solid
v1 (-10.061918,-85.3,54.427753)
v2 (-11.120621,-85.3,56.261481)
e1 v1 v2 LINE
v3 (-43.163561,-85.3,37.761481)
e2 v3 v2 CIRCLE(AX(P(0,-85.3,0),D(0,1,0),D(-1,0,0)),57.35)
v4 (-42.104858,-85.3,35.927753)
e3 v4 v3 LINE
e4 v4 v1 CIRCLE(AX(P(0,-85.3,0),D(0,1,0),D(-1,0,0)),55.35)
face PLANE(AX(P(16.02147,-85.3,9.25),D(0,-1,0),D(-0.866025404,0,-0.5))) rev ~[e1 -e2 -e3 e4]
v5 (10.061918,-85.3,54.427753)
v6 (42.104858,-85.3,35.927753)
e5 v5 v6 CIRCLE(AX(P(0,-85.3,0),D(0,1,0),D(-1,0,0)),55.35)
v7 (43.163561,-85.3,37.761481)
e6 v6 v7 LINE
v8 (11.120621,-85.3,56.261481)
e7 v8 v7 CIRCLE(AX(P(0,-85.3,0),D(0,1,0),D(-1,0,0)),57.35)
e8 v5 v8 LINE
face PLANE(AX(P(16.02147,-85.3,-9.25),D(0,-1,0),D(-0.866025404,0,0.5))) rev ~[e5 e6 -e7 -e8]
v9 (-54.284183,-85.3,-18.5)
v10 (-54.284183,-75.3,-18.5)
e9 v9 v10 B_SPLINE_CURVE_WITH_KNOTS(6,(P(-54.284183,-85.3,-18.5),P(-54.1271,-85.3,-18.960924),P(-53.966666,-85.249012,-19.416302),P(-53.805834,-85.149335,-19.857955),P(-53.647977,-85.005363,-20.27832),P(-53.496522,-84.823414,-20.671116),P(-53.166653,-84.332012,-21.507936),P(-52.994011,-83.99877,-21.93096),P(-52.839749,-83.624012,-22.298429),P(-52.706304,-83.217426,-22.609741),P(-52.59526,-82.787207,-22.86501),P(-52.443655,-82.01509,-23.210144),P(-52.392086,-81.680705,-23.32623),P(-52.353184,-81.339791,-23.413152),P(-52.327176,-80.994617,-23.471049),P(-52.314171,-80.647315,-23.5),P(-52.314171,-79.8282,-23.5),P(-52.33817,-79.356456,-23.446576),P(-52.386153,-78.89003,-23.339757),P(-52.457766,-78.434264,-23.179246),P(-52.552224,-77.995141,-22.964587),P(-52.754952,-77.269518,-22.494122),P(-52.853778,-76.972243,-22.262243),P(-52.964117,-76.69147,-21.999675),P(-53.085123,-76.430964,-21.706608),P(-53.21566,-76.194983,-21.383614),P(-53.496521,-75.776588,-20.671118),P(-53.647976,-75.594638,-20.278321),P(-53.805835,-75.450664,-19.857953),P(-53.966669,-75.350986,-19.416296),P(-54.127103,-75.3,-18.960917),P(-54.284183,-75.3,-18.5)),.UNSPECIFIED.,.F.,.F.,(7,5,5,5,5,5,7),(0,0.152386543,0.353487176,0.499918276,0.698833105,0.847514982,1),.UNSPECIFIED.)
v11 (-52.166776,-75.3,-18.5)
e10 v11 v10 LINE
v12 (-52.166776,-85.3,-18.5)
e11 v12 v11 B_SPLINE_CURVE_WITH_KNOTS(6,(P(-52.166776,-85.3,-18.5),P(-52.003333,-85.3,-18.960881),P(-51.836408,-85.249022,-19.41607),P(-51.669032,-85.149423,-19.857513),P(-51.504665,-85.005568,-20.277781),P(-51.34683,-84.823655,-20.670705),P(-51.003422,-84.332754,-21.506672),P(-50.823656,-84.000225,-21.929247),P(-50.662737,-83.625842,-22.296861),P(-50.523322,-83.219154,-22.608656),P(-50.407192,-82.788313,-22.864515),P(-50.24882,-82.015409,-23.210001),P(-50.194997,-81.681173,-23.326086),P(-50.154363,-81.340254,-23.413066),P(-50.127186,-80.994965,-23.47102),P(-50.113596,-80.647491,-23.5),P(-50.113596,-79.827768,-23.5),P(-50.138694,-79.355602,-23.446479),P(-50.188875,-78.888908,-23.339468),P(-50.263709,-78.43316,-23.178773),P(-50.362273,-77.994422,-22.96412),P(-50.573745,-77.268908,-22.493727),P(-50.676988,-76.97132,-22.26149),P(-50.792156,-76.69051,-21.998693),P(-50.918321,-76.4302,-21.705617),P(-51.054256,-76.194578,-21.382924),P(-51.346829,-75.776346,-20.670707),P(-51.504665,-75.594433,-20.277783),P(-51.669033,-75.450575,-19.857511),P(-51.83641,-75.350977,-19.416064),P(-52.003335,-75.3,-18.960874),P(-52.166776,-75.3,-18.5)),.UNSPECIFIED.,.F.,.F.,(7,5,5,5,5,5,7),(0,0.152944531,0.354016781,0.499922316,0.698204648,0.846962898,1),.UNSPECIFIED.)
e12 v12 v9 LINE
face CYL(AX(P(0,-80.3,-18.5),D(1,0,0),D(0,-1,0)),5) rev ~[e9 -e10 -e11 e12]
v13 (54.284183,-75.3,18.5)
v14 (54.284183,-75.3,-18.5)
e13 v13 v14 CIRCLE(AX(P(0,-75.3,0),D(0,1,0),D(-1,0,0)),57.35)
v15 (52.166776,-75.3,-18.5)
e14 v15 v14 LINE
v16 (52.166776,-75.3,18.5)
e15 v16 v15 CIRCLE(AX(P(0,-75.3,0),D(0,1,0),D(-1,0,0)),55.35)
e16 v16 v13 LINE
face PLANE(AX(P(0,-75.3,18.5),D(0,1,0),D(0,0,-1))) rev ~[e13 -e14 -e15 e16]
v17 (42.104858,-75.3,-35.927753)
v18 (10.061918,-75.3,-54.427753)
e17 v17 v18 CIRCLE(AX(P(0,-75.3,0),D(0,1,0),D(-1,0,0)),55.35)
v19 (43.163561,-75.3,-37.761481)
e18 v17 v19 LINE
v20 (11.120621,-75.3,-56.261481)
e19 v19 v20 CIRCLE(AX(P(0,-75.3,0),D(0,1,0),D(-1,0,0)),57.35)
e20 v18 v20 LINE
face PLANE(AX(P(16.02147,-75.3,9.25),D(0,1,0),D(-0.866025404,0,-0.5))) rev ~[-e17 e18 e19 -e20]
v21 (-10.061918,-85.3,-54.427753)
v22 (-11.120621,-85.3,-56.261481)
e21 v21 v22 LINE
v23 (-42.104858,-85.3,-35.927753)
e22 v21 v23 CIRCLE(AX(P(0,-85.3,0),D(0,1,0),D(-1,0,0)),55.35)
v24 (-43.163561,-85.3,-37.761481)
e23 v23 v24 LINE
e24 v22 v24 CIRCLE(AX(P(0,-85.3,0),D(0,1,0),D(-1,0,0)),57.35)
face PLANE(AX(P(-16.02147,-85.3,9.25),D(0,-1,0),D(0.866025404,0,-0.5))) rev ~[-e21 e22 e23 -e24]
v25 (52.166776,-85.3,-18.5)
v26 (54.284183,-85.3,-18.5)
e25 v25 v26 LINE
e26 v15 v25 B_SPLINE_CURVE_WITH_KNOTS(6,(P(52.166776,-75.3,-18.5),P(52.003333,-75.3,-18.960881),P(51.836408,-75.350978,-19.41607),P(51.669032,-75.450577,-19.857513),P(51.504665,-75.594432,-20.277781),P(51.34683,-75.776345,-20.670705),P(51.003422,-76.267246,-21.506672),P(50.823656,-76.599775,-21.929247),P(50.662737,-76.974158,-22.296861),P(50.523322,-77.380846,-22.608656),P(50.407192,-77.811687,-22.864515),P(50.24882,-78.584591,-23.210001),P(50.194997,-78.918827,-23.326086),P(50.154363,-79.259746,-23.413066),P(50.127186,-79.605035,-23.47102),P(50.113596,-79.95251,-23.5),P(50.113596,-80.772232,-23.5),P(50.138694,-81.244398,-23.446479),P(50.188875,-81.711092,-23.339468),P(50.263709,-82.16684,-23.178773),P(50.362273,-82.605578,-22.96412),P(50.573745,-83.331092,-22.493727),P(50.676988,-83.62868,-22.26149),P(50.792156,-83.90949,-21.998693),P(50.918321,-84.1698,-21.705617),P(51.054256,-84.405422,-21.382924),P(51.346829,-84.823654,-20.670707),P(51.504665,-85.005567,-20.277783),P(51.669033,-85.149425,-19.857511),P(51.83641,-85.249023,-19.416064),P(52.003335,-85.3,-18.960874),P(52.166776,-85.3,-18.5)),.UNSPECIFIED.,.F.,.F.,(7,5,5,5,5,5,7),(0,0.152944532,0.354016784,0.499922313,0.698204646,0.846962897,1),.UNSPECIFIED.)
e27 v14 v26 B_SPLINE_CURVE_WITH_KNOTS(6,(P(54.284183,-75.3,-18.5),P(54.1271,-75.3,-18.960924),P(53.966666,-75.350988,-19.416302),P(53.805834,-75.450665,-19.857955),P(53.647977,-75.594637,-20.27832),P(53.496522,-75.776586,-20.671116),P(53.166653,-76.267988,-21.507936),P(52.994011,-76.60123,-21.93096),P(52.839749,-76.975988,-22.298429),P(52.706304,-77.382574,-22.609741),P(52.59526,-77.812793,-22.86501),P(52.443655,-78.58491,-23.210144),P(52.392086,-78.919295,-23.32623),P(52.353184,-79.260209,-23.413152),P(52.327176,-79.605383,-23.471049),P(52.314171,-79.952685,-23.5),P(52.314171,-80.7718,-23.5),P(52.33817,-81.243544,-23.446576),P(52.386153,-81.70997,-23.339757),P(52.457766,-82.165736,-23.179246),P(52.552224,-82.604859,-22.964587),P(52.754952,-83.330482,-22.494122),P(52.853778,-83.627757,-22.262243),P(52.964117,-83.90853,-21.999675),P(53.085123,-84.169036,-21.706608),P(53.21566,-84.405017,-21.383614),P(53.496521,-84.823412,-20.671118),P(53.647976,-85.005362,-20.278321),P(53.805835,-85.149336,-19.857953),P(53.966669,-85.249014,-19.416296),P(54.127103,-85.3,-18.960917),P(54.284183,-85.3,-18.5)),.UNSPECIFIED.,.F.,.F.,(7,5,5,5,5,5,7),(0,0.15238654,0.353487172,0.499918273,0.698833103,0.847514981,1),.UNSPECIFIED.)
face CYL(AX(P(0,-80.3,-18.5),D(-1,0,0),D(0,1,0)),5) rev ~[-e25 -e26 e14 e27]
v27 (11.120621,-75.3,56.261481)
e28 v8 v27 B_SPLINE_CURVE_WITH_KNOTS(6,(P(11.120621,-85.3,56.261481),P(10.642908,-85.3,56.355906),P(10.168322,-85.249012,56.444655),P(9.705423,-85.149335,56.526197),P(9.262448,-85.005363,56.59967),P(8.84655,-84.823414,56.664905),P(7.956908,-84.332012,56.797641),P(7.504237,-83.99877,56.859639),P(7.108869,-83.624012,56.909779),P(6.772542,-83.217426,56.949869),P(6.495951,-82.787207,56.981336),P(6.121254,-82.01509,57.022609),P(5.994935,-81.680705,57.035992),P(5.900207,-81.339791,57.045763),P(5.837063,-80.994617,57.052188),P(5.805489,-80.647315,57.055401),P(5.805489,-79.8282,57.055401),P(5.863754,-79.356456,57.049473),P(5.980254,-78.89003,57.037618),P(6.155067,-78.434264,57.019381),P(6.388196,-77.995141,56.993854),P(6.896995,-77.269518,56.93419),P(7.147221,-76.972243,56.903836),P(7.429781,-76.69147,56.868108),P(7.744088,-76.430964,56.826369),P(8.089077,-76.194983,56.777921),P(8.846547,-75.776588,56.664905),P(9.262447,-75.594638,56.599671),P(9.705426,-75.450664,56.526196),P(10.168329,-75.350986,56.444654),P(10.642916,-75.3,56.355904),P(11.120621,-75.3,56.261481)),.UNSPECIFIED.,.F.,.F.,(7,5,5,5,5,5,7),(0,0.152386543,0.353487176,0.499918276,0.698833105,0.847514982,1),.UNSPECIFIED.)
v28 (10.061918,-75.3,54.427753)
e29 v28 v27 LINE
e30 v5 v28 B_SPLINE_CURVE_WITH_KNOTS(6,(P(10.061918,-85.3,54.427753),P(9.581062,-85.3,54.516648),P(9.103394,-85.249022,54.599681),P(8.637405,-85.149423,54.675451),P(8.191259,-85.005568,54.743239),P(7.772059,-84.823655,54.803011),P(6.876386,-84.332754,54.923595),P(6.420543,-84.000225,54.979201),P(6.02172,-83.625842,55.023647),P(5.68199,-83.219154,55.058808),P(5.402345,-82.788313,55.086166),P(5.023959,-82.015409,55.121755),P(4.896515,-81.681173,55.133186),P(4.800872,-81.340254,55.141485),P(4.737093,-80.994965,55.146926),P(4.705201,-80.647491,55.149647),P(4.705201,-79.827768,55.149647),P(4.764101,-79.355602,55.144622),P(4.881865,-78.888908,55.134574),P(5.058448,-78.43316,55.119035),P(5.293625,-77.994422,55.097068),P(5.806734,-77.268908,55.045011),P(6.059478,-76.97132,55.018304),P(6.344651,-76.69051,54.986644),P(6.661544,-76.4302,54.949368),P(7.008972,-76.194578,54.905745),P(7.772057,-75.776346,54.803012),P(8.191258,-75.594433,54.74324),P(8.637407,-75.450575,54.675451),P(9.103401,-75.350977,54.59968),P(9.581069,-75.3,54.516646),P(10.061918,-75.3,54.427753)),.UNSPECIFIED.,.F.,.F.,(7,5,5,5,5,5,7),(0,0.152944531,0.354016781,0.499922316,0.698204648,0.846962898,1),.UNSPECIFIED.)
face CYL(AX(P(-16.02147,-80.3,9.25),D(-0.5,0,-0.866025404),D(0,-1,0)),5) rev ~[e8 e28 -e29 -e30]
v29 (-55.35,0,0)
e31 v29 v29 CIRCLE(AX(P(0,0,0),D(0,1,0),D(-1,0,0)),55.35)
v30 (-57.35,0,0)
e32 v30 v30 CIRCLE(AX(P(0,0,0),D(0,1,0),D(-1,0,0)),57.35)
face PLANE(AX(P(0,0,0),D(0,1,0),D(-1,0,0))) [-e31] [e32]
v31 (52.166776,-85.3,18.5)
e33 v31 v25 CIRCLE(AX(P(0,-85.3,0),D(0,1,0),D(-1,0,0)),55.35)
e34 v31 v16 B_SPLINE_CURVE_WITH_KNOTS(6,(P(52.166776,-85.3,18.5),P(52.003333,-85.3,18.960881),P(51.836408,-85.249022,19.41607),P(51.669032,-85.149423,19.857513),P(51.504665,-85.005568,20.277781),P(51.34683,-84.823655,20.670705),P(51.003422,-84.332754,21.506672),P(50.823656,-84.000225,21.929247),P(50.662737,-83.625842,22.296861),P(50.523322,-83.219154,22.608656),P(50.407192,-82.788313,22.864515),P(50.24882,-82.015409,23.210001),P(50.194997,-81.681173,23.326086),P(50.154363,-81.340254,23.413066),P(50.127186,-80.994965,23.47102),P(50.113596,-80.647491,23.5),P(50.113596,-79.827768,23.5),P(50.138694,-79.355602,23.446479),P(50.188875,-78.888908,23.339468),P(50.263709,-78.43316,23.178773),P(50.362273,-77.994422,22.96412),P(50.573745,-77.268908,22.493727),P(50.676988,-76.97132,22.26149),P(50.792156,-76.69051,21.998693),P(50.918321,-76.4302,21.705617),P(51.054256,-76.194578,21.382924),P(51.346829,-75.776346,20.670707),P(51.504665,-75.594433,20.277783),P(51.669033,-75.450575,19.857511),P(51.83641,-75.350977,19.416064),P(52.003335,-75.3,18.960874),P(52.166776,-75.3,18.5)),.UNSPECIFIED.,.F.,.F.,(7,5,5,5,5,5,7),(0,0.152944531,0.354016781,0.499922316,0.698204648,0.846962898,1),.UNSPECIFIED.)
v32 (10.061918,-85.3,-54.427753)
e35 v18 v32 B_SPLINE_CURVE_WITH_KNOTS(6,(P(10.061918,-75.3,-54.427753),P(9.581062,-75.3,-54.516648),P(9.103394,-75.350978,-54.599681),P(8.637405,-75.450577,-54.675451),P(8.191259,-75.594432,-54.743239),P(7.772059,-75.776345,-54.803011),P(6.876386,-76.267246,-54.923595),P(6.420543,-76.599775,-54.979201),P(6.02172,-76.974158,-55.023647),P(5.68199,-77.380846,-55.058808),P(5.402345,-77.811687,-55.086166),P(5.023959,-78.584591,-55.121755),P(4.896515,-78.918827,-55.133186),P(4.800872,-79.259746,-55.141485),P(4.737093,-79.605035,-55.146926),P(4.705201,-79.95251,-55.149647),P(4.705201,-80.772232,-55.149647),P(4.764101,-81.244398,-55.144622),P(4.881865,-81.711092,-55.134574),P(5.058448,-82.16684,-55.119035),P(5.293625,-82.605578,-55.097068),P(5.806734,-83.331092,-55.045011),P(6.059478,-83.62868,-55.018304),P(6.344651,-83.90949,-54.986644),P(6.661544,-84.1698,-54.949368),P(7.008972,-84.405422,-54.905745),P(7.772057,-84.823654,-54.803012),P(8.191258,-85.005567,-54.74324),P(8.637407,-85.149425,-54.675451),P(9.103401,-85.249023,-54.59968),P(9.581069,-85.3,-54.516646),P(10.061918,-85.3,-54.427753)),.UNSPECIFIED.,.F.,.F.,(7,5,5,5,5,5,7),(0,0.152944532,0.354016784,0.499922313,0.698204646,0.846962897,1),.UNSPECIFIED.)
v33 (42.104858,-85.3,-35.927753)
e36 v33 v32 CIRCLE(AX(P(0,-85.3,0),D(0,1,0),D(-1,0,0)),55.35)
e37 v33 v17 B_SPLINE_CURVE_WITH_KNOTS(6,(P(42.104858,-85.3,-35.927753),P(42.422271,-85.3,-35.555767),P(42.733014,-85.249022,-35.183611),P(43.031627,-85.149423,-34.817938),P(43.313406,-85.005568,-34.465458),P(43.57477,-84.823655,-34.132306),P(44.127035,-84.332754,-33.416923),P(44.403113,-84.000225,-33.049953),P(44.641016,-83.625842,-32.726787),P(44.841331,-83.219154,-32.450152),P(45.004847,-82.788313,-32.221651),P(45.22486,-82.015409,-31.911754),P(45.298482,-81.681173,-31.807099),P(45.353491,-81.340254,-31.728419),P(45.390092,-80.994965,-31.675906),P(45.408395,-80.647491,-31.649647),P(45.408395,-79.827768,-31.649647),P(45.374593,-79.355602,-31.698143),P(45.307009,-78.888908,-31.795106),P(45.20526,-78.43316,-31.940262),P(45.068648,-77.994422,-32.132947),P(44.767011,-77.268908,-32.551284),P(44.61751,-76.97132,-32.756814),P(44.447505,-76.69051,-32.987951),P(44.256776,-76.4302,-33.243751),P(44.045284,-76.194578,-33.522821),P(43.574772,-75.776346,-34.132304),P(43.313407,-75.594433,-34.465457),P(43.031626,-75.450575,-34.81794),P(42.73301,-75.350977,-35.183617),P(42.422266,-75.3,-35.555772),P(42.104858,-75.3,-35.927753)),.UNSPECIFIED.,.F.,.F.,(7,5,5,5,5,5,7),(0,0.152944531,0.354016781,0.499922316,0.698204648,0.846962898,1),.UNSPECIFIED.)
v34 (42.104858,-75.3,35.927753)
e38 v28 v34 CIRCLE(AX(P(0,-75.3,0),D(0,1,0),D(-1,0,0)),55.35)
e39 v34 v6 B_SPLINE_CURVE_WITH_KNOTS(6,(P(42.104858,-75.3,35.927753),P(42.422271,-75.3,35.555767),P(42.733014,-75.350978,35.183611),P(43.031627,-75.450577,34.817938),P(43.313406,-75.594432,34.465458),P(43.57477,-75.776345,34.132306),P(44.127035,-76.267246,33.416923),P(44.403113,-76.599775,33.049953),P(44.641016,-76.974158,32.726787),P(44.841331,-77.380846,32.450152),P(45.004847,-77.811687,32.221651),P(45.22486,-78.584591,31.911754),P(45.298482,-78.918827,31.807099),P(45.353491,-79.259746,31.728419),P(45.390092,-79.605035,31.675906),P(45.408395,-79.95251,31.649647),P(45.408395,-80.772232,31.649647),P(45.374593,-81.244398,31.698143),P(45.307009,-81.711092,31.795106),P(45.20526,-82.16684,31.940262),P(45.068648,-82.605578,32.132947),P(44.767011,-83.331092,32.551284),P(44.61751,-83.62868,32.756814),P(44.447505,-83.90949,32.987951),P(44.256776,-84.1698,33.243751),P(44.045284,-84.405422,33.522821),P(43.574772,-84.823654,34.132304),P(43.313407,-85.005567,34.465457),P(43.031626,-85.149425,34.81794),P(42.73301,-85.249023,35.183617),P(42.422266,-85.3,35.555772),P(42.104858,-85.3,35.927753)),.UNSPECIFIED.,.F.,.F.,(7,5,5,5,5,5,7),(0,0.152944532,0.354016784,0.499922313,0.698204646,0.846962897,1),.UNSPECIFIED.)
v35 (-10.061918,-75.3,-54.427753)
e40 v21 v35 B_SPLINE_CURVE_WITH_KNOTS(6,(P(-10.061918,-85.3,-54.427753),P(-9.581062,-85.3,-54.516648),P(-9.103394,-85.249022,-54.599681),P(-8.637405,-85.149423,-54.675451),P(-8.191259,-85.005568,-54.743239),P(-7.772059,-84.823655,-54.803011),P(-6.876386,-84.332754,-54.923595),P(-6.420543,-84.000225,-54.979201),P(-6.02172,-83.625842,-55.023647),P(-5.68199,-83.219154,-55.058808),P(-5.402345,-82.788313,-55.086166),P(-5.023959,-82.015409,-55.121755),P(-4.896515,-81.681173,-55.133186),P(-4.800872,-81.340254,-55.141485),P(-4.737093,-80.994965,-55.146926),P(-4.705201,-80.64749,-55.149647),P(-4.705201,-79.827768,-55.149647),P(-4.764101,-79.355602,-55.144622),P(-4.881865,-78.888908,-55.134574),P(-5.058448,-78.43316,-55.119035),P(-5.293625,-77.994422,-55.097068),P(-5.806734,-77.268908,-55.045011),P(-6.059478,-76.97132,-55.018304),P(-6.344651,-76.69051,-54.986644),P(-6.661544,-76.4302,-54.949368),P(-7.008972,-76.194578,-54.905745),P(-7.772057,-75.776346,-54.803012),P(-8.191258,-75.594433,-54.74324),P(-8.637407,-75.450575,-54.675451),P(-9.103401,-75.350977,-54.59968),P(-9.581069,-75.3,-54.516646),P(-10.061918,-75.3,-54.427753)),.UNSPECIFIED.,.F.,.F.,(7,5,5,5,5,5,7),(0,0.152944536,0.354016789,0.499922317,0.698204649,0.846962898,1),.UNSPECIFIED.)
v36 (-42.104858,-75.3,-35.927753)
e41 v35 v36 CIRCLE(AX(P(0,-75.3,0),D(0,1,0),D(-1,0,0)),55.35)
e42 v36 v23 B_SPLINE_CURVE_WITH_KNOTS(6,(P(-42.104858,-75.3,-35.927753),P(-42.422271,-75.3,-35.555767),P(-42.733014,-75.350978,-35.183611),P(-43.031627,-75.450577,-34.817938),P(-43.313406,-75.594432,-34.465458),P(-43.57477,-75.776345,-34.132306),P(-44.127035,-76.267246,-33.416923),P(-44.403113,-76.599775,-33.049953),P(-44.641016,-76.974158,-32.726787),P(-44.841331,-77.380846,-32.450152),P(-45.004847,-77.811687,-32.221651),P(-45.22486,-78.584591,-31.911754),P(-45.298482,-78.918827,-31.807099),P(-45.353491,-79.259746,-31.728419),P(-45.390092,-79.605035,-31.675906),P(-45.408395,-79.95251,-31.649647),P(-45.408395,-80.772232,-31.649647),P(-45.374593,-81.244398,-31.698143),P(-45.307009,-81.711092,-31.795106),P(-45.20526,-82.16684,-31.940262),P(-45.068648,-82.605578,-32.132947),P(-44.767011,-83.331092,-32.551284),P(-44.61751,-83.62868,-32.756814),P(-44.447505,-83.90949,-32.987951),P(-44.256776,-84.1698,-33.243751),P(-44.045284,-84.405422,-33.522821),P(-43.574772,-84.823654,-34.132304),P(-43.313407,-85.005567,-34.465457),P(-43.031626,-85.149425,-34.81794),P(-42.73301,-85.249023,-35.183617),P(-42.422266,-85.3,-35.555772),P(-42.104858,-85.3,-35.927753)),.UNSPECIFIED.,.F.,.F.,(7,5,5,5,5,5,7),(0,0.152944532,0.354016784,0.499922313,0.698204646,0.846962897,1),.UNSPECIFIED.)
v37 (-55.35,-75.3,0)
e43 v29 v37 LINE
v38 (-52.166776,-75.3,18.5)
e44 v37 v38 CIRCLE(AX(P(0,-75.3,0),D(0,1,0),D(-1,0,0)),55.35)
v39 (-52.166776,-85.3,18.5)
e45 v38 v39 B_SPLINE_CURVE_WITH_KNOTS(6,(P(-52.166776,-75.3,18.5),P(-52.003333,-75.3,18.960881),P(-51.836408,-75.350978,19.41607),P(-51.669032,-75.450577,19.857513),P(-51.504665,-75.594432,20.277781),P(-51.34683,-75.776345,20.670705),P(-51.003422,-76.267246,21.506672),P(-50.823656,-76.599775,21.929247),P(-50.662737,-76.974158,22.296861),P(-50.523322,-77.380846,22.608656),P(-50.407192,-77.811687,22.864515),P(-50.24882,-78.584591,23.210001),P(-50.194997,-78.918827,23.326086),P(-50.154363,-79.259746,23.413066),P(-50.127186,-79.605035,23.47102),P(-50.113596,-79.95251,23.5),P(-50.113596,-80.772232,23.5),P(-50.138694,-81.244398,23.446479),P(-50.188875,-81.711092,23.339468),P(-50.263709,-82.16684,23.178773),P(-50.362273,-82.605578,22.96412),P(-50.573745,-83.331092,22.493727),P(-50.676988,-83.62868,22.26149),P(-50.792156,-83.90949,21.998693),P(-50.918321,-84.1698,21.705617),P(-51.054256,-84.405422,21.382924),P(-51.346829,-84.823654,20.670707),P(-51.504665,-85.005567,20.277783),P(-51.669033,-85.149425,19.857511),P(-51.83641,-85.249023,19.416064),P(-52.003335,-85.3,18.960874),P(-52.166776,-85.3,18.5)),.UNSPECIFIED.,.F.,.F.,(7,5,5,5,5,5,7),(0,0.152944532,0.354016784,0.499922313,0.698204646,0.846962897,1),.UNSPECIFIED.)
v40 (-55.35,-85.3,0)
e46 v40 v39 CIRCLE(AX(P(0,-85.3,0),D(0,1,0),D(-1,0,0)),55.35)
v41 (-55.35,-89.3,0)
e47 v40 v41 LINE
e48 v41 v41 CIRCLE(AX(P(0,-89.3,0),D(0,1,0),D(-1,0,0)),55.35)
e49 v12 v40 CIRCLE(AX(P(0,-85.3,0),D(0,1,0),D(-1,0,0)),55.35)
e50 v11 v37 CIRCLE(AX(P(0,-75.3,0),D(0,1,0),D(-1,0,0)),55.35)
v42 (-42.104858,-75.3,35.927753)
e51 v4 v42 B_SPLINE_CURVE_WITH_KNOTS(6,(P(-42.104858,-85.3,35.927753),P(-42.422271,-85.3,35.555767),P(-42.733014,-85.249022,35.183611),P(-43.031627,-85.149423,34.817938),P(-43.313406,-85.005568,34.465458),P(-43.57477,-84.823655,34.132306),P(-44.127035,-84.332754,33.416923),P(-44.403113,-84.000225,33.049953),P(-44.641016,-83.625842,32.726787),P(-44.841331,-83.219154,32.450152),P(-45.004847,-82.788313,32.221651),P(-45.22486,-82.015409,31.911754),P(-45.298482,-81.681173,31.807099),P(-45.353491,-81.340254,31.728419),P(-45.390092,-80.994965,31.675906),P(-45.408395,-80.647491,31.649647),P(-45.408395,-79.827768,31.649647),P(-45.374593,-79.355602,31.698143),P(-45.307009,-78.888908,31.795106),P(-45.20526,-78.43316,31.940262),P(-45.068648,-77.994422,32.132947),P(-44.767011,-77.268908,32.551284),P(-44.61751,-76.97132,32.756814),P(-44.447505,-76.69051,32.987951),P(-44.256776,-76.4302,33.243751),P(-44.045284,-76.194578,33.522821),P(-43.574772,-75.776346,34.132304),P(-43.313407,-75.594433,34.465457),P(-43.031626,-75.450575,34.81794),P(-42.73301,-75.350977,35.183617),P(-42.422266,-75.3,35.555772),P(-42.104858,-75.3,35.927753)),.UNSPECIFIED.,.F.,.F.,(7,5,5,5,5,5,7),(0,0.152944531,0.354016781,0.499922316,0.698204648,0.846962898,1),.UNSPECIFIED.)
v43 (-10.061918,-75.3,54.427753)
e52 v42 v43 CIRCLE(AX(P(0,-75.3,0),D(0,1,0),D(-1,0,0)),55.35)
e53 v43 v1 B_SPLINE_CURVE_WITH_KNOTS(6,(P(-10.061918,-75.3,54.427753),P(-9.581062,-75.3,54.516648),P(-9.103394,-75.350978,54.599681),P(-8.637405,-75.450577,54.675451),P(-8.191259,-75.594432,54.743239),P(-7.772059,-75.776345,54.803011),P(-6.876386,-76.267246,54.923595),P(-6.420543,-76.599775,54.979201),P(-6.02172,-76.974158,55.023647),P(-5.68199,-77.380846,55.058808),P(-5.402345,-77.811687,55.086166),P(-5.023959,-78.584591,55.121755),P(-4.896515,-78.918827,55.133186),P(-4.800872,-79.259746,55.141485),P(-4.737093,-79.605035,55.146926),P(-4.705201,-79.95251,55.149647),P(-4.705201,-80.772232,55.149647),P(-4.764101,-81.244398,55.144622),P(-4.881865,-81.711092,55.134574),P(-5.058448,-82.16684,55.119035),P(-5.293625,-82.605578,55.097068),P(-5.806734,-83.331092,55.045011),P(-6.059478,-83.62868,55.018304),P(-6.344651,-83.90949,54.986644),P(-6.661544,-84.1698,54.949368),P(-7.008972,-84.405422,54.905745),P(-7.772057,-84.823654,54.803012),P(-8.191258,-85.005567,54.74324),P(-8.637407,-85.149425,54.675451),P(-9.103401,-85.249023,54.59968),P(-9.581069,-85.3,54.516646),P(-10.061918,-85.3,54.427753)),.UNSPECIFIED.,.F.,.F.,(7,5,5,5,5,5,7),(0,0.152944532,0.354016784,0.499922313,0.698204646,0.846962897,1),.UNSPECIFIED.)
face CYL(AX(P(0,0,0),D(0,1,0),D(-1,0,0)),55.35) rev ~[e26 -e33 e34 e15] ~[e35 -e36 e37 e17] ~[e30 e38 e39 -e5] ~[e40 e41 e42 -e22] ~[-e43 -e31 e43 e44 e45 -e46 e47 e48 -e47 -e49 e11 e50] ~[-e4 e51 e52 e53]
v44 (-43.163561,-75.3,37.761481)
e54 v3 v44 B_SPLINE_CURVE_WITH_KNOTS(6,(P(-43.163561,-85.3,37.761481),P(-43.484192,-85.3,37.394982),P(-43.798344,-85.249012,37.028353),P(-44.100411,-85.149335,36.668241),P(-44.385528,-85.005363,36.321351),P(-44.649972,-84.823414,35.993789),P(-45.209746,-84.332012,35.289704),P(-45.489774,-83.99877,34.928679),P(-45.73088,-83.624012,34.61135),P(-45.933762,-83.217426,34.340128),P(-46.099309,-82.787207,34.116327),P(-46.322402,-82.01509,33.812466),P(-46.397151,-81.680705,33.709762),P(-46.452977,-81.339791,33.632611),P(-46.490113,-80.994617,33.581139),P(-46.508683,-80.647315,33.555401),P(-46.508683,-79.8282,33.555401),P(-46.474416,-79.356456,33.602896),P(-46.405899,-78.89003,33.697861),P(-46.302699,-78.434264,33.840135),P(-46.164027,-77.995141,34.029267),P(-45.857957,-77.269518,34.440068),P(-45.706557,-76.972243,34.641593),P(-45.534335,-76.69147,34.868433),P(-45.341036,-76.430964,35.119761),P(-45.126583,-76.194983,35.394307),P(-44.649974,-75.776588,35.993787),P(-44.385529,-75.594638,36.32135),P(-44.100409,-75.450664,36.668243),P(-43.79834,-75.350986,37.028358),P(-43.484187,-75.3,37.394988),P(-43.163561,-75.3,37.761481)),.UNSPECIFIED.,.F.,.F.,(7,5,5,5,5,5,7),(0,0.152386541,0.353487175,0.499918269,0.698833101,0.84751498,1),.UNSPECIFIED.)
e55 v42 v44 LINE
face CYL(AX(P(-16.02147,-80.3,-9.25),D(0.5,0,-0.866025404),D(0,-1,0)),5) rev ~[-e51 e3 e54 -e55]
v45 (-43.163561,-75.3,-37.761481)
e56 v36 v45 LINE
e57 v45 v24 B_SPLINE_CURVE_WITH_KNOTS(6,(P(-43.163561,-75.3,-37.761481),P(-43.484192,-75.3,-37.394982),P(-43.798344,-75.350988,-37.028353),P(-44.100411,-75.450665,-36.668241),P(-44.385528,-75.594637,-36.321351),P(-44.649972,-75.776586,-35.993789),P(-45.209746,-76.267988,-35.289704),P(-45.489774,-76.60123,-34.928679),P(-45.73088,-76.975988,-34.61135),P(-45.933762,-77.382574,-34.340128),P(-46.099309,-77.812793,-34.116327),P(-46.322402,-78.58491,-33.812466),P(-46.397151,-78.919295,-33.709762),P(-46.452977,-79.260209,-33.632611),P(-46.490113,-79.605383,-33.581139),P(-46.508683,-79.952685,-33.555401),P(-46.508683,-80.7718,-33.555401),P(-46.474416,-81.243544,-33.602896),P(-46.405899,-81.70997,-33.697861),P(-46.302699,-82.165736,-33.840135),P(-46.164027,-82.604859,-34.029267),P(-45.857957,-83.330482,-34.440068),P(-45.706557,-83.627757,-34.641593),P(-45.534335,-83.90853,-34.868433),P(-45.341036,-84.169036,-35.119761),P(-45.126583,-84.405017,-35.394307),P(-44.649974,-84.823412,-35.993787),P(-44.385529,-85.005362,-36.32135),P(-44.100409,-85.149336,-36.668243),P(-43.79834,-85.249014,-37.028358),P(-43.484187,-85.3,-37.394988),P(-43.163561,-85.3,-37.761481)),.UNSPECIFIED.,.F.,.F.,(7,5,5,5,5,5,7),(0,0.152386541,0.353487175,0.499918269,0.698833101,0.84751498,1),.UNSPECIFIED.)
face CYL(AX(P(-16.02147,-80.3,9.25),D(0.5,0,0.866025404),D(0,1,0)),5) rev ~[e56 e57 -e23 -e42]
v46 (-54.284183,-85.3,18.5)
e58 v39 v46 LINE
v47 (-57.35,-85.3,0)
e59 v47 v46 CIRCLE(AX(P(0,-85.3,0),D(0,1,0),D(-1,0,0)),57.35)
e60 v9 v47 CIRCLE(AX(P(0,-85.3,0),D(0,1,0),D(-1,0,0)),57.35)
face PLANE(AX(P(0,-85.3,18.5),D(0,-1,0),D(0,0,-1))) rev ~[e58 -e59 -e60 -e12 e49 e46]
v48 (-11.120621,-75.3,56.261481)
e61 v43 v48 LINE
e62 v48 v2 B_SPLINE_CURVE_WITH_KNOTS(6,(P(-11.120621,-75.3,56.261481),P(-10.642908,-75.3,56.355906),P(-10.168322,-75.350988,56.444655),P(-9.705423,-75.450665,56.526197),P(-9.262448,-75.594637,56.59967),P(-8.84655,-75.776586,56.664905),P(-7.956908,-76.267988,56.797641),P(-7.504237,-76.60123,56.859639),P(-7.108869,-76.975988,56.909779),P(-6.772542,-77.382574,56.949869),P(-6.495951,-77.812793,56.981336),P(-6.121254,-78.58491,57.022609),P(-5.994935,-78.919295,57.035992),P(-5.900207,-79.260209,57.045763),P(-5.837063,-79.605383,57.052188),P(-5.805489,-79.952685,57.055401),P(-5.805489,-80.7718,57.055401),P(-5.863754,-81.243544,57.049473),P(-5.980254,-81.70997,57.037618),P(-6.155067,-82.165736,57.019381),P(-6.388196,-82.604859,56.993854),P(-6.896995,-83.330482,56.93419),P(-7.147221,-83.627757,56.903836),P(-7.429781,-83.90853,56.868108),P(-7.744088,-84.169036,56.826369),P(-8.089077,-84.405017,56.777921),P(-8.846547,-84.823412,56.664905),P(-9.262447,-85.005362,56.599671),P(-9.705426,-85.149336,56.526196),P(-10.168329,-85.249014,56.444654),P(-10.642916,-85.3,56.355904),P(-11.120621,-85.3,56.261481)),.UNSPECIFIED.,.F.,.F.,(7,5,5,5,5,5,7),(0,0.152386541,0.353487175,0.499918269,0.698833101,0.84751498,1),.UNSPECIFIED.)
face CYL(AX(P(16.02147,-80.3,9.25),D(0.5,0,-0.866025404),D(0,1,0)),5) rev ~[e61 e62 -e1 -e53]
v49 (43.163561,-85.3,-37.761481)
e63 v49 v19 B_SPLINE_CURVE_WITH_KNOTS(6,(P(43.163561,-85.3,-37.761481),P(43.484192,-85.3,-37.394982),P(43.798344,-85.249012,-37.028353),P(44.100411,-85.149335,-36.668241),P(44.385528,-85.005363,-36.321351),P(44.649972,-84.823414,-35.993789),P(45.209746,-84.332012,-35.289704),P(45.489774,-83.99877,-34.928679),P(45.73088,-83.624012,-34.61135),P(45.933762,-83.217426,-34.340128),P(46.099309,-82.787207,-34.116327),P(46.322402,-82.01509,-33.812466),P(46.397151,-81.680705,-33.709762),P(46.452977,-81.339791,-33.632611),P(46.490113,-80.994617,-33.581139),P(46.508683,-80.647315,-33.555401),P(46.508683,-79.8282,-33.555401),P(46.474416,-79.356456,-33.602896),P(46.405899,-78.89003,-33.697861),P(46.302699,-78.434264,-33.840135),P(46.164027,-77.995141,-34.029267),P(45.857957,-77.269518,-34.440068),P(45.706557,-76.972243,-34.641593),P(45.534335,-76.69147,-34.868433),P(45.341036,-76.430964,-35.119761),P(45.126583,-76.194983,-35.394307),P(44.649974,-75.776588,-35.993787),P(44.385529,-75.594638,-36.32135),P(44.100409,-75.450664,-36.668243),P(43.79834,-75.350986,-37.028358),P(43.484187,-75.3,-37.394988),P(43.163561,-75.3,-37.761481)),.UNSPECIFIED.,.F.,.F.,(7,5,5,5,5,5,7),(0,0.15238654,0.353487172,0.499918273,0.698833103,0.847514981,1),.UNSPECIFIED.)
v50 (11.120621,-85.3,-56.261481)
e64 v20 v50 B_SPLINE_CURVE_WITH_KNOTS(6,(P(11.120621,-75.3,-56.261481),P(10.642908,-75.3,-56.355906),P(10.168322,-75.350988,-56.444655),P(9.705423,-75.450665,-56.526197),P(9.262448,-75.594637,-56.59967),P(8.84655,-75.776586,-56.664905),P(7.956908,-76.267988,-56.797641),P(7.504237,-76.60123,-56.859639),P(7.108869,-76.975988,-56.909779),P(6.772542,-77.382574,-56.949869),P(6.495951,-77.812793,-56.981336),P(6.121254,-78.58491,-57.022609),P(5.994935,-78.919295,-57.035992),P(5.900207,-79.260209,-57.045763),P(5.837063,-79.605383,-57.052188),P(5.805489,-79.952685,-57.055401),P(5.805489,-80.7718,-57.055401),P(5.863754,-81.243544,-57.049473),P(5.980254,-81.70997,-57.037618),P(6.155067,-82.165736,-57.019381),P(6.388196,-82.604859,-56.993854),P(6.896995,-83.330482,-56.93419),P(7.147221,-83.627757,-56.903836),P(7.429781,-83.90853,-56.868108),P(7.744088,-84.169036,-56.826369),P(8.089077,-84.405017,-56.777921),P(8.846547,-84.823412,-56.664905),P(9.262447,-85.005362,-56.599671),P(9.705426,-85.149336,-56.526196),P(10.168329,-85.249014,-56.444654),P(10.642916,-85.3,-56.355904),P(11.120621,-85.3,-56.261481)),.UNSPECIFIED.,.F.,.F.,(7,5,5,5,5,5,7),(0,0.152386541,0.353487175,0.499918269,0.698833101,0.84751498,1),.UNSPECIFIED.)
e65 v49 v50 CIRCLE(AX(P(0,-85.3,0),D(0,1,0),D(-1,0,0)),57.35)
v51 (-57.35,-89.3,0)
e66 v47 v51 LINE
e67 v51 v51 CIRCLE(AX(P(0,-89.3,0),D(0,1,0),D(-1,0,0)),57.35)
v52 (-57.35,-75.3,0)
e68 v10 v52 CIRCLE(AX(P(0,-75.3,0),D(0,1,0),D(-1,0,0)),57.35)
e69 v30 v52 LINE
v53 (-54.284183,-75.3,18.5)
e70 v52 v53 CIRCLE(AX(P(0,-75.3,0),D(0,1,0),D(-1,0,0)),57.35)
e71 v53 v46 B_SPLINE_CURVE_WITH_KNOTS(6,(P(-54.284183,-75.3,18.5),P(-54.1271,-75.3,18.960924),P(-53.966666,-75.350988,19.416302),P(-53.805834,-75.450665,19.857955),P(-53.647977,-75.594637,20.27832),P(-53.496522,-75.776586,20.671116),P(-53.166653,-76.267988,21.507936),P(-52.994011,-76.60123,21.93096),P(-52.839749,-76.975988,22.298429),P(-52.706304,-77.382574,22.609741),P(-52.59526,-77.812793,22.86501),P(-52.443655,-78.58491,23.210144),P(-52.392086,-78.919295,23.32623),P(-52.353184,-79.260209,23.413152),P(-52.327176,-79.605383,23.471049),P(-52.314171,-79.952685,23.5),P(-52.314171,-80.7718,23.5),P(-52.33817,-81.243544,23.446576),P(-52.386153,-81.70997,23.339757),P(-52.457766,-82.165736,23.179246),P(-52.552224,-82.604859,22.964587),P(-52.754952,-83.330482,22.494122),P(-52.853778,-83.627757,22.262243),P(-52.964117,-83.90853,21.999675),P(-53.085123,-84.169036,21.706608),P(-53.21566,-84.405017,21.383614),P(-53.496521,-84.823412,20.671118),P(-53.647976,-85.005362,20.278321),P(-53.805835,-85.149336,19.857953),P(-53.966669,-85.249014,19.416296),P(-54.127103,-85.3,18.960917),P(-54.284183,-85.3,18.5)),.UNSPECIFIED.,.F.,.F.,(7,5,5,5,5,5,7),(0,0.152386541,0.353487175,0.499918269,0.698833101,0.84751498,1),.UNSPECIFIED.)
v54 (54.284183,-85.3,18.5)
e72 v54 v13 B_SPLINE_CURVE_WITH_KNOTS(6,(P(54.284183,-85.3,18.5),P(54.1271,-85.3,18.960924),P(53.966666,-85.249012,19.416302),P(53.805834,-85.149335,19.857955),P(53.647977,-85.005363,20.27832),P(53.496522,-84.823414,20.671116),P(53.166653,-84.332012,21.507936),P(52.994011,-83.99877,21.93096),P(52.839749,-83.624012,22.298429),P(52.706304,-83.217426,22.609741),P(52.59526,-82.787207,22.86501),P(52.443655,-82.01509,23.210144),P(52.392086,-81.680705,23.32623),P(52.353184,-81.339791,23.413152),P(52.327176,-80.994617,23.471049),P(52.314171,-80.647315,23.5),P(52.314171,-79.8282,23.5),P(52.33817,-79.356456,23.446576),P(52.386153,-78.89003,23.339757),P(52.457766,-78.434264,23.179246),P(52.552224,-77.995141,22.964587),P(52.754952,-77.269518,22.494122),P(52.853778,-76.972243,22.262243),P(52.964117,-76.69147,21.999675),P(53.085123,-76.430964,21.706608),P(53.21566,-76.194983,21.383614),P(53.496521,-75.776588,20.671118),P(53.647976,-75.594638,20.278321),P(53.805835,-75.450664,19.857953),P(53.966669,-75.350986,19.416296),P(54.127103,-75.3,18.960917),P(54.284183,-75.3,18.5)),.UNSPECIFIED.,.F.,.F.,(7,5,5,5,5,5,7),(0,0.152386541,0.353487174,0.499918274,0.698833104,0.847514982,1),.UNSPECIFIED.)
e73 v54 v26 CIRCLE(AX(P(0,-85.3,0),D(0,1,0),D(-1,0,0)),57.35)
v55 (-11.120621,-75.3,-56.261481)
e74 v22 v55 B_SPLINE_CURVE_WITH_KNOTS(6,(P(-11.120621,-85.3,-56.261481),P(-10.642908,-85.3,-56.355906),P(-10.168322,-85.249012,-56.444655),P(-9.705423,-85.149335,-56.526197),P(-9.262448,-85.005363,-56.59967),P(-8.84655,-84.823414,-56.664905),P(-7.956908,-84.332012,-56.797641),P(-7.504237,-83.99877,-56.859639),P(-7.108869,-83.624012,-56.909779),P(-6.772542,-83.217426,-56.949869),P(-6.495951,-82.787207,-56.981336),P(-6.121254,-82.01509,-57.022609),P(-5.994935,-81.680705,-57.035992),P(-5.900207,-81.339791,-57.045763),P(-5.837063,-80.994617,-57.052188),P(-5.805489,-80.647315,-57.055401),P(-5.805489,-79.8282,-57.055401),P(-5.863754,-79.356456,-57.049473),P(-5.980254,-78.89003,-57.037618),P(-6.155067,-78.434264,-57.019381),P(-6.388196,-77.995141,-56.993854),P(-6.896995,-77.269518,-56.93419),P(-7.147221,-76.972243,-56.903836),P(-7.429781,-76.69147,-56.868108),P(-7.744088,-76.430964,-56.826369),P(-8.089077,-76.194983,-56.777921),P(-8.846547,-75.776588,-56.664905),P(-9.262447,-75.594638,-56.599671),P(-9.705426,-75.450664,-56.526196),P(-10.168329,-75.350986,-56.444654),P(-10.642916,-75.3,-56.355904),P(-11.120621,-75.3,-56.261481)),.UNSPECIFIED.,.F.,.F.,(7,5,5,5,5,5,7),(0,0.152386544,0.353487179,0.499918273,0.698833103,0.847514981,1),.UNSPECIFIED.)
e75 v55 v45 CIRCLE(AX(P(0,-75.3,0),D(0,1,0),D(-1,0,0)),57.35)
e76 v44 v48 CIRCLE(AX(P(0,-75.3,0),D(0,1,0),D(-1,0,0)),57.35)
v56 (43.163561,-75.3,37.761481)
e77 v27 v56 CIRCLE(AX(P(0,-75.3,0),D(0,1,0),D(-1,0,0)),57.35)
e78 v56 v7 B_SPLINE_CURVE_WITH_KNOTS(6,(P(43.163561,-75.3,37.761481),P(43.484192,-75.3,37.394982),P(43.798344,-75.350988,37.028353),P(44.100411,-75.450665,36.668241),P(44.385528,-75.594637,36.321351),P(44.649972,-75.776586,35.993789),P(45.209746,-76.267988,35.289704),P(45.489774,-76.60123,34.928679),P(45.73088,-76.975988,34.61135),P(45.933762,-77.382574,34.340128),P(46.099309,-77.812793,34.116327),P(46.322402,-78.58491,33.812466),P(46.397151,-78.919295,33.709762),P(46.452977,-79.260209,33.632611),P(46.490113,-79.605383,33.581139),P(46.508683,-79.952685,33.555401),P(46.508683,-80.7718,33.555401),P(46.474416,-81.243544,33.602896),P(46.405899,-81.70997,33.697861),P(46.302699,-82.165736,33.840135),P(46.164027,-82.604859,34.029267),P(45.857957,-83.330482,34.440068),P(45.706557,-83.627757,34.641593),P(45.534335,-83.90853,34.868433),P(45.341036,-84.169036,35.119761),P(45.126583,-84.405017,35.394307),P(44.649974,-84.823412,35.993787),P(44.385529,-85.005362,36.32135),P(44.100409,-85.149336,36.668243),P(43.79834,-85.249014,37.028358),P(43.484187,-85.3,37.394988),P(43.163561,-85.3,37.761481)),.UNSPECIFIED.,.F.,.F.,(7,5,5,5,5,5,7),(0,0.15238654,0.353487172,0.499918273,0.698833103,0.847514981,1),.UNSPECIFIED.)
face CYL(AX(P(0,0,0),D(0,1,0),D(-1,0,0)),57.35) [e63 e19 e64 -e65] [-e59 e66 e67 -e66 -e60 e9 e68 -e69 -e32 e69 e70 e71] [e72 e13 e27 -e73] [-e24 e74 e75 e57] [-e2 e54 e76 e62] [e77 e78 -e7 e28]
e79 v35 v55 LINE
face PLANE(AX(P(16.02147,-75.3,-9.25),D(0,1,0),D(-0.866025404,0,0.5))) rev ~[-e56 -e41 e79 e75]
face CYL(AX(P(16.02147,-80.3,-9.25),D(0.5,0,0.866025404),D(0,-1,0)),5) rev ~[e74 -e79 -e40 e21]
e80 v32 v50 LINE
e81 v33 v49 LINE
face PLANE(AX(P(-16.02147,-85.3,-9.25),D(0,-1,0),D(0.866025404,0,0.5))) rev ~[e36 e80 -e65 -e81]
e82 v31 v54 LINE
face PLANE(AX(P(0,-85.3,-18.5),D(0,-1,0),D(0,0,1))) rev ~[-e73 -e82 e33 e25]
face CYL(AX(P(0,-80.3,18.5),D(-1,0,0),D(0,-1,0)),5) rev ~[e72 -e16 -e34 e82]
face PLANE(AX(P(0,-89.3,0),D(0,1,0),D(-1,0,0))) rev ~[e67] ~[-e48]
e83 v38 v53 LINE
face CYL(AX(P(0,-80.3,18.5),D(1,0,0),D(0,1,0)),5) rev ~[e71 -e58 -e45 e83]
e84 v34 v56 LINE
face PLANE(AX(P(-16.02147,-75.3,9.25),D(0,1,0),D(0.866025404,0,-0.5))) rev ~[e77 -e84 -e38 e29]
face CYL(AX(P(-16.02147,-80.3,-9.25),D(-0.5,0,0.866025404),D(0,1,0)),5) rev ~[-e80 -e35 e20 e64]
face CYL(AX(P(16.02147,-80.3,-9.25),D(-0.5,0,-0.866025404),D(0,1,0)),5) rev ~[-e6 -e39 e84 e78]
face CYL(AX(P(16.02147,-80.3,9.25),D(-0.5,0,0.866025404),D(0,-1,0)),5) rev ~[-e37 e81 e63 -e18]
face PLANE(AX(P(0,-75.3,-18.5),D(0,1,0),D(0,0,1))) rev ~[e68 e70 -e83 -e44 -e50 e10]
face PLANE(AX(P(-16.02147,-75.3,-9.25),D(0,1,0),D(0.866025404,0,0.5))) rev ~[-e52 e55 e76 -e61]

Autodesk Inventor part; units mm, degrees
ref_plane "YZ Plane" through (0, 0, 0) normal (1, 0, 0) x (0, 1, 0)
ref_plane "XZ Plane" through (0, 0, 0) normal (0, 1, 0) x (-1, 0, 0)
ref_plane "XY Plane" through (0, 0, 0) normal (0, 0, 1) x (1, 0, 0)
sketch "Esquisse1" plane through (0, 0, 0) normal (0, 1, 0) x (-1, 0, 0)
  line L0 (0, -80.29) -> (0, 80.29) construction
  line L1 (-80.29, 0) -> (80.29, 0) construction
  circle A0 centre (0, 0) radius 57.35
  circle A1 centre (0, 0) radius 55.35
  circle A2 centre (0, 0) radius 16 construction
  circle A3 centre (0, 0) radius 57.35 construction
  dimension "d0" = 2
extrude "Extrusion1" add sketch "Esquisse1" against normal blind 89.3
sketch "Esquisse2" plane through (0, 0, 0) normal (1, 0, 0) x (0, 1, 0)
  line L0 (-80.3, 18.5) -> (-80.3, -18.5) construction
  line L1 (-85.3, 18.5) -> (-85.3, -18.5)
  line L2 (-75.3, -18.5) -> (-75.3, 18.5)
  arc A0 (-75.3, 18.5) -> (-85.3, 18.5) centre (-80.3, 18.5) ccw
  arc A1 (-85.3, -18.5) -> (-75.3, -18.5) centre (-80.3, -18.5) ccw
  line L3 (-89.3, 57.35) -> (-89.3, -57.35) construction
  line L4 (-81.6, 0) -> (13.6, 0) construction
  point P0 (0, 0)
  point P1 (-80.3, 0)
  dimension "d3" = 4
  dimension "d4" = 5
  dimension "d5" = 37
extrude "Extrusion2" cut sketch "Esquisse2" against normal blind 68
pattern_circular "Réseau circulaire1" count 6 over 360 about axis through (0, -10, 0) along (0, 1, 0) of "Extrusion2"
properties part number "Colossus_7kW_Rotor_body"
